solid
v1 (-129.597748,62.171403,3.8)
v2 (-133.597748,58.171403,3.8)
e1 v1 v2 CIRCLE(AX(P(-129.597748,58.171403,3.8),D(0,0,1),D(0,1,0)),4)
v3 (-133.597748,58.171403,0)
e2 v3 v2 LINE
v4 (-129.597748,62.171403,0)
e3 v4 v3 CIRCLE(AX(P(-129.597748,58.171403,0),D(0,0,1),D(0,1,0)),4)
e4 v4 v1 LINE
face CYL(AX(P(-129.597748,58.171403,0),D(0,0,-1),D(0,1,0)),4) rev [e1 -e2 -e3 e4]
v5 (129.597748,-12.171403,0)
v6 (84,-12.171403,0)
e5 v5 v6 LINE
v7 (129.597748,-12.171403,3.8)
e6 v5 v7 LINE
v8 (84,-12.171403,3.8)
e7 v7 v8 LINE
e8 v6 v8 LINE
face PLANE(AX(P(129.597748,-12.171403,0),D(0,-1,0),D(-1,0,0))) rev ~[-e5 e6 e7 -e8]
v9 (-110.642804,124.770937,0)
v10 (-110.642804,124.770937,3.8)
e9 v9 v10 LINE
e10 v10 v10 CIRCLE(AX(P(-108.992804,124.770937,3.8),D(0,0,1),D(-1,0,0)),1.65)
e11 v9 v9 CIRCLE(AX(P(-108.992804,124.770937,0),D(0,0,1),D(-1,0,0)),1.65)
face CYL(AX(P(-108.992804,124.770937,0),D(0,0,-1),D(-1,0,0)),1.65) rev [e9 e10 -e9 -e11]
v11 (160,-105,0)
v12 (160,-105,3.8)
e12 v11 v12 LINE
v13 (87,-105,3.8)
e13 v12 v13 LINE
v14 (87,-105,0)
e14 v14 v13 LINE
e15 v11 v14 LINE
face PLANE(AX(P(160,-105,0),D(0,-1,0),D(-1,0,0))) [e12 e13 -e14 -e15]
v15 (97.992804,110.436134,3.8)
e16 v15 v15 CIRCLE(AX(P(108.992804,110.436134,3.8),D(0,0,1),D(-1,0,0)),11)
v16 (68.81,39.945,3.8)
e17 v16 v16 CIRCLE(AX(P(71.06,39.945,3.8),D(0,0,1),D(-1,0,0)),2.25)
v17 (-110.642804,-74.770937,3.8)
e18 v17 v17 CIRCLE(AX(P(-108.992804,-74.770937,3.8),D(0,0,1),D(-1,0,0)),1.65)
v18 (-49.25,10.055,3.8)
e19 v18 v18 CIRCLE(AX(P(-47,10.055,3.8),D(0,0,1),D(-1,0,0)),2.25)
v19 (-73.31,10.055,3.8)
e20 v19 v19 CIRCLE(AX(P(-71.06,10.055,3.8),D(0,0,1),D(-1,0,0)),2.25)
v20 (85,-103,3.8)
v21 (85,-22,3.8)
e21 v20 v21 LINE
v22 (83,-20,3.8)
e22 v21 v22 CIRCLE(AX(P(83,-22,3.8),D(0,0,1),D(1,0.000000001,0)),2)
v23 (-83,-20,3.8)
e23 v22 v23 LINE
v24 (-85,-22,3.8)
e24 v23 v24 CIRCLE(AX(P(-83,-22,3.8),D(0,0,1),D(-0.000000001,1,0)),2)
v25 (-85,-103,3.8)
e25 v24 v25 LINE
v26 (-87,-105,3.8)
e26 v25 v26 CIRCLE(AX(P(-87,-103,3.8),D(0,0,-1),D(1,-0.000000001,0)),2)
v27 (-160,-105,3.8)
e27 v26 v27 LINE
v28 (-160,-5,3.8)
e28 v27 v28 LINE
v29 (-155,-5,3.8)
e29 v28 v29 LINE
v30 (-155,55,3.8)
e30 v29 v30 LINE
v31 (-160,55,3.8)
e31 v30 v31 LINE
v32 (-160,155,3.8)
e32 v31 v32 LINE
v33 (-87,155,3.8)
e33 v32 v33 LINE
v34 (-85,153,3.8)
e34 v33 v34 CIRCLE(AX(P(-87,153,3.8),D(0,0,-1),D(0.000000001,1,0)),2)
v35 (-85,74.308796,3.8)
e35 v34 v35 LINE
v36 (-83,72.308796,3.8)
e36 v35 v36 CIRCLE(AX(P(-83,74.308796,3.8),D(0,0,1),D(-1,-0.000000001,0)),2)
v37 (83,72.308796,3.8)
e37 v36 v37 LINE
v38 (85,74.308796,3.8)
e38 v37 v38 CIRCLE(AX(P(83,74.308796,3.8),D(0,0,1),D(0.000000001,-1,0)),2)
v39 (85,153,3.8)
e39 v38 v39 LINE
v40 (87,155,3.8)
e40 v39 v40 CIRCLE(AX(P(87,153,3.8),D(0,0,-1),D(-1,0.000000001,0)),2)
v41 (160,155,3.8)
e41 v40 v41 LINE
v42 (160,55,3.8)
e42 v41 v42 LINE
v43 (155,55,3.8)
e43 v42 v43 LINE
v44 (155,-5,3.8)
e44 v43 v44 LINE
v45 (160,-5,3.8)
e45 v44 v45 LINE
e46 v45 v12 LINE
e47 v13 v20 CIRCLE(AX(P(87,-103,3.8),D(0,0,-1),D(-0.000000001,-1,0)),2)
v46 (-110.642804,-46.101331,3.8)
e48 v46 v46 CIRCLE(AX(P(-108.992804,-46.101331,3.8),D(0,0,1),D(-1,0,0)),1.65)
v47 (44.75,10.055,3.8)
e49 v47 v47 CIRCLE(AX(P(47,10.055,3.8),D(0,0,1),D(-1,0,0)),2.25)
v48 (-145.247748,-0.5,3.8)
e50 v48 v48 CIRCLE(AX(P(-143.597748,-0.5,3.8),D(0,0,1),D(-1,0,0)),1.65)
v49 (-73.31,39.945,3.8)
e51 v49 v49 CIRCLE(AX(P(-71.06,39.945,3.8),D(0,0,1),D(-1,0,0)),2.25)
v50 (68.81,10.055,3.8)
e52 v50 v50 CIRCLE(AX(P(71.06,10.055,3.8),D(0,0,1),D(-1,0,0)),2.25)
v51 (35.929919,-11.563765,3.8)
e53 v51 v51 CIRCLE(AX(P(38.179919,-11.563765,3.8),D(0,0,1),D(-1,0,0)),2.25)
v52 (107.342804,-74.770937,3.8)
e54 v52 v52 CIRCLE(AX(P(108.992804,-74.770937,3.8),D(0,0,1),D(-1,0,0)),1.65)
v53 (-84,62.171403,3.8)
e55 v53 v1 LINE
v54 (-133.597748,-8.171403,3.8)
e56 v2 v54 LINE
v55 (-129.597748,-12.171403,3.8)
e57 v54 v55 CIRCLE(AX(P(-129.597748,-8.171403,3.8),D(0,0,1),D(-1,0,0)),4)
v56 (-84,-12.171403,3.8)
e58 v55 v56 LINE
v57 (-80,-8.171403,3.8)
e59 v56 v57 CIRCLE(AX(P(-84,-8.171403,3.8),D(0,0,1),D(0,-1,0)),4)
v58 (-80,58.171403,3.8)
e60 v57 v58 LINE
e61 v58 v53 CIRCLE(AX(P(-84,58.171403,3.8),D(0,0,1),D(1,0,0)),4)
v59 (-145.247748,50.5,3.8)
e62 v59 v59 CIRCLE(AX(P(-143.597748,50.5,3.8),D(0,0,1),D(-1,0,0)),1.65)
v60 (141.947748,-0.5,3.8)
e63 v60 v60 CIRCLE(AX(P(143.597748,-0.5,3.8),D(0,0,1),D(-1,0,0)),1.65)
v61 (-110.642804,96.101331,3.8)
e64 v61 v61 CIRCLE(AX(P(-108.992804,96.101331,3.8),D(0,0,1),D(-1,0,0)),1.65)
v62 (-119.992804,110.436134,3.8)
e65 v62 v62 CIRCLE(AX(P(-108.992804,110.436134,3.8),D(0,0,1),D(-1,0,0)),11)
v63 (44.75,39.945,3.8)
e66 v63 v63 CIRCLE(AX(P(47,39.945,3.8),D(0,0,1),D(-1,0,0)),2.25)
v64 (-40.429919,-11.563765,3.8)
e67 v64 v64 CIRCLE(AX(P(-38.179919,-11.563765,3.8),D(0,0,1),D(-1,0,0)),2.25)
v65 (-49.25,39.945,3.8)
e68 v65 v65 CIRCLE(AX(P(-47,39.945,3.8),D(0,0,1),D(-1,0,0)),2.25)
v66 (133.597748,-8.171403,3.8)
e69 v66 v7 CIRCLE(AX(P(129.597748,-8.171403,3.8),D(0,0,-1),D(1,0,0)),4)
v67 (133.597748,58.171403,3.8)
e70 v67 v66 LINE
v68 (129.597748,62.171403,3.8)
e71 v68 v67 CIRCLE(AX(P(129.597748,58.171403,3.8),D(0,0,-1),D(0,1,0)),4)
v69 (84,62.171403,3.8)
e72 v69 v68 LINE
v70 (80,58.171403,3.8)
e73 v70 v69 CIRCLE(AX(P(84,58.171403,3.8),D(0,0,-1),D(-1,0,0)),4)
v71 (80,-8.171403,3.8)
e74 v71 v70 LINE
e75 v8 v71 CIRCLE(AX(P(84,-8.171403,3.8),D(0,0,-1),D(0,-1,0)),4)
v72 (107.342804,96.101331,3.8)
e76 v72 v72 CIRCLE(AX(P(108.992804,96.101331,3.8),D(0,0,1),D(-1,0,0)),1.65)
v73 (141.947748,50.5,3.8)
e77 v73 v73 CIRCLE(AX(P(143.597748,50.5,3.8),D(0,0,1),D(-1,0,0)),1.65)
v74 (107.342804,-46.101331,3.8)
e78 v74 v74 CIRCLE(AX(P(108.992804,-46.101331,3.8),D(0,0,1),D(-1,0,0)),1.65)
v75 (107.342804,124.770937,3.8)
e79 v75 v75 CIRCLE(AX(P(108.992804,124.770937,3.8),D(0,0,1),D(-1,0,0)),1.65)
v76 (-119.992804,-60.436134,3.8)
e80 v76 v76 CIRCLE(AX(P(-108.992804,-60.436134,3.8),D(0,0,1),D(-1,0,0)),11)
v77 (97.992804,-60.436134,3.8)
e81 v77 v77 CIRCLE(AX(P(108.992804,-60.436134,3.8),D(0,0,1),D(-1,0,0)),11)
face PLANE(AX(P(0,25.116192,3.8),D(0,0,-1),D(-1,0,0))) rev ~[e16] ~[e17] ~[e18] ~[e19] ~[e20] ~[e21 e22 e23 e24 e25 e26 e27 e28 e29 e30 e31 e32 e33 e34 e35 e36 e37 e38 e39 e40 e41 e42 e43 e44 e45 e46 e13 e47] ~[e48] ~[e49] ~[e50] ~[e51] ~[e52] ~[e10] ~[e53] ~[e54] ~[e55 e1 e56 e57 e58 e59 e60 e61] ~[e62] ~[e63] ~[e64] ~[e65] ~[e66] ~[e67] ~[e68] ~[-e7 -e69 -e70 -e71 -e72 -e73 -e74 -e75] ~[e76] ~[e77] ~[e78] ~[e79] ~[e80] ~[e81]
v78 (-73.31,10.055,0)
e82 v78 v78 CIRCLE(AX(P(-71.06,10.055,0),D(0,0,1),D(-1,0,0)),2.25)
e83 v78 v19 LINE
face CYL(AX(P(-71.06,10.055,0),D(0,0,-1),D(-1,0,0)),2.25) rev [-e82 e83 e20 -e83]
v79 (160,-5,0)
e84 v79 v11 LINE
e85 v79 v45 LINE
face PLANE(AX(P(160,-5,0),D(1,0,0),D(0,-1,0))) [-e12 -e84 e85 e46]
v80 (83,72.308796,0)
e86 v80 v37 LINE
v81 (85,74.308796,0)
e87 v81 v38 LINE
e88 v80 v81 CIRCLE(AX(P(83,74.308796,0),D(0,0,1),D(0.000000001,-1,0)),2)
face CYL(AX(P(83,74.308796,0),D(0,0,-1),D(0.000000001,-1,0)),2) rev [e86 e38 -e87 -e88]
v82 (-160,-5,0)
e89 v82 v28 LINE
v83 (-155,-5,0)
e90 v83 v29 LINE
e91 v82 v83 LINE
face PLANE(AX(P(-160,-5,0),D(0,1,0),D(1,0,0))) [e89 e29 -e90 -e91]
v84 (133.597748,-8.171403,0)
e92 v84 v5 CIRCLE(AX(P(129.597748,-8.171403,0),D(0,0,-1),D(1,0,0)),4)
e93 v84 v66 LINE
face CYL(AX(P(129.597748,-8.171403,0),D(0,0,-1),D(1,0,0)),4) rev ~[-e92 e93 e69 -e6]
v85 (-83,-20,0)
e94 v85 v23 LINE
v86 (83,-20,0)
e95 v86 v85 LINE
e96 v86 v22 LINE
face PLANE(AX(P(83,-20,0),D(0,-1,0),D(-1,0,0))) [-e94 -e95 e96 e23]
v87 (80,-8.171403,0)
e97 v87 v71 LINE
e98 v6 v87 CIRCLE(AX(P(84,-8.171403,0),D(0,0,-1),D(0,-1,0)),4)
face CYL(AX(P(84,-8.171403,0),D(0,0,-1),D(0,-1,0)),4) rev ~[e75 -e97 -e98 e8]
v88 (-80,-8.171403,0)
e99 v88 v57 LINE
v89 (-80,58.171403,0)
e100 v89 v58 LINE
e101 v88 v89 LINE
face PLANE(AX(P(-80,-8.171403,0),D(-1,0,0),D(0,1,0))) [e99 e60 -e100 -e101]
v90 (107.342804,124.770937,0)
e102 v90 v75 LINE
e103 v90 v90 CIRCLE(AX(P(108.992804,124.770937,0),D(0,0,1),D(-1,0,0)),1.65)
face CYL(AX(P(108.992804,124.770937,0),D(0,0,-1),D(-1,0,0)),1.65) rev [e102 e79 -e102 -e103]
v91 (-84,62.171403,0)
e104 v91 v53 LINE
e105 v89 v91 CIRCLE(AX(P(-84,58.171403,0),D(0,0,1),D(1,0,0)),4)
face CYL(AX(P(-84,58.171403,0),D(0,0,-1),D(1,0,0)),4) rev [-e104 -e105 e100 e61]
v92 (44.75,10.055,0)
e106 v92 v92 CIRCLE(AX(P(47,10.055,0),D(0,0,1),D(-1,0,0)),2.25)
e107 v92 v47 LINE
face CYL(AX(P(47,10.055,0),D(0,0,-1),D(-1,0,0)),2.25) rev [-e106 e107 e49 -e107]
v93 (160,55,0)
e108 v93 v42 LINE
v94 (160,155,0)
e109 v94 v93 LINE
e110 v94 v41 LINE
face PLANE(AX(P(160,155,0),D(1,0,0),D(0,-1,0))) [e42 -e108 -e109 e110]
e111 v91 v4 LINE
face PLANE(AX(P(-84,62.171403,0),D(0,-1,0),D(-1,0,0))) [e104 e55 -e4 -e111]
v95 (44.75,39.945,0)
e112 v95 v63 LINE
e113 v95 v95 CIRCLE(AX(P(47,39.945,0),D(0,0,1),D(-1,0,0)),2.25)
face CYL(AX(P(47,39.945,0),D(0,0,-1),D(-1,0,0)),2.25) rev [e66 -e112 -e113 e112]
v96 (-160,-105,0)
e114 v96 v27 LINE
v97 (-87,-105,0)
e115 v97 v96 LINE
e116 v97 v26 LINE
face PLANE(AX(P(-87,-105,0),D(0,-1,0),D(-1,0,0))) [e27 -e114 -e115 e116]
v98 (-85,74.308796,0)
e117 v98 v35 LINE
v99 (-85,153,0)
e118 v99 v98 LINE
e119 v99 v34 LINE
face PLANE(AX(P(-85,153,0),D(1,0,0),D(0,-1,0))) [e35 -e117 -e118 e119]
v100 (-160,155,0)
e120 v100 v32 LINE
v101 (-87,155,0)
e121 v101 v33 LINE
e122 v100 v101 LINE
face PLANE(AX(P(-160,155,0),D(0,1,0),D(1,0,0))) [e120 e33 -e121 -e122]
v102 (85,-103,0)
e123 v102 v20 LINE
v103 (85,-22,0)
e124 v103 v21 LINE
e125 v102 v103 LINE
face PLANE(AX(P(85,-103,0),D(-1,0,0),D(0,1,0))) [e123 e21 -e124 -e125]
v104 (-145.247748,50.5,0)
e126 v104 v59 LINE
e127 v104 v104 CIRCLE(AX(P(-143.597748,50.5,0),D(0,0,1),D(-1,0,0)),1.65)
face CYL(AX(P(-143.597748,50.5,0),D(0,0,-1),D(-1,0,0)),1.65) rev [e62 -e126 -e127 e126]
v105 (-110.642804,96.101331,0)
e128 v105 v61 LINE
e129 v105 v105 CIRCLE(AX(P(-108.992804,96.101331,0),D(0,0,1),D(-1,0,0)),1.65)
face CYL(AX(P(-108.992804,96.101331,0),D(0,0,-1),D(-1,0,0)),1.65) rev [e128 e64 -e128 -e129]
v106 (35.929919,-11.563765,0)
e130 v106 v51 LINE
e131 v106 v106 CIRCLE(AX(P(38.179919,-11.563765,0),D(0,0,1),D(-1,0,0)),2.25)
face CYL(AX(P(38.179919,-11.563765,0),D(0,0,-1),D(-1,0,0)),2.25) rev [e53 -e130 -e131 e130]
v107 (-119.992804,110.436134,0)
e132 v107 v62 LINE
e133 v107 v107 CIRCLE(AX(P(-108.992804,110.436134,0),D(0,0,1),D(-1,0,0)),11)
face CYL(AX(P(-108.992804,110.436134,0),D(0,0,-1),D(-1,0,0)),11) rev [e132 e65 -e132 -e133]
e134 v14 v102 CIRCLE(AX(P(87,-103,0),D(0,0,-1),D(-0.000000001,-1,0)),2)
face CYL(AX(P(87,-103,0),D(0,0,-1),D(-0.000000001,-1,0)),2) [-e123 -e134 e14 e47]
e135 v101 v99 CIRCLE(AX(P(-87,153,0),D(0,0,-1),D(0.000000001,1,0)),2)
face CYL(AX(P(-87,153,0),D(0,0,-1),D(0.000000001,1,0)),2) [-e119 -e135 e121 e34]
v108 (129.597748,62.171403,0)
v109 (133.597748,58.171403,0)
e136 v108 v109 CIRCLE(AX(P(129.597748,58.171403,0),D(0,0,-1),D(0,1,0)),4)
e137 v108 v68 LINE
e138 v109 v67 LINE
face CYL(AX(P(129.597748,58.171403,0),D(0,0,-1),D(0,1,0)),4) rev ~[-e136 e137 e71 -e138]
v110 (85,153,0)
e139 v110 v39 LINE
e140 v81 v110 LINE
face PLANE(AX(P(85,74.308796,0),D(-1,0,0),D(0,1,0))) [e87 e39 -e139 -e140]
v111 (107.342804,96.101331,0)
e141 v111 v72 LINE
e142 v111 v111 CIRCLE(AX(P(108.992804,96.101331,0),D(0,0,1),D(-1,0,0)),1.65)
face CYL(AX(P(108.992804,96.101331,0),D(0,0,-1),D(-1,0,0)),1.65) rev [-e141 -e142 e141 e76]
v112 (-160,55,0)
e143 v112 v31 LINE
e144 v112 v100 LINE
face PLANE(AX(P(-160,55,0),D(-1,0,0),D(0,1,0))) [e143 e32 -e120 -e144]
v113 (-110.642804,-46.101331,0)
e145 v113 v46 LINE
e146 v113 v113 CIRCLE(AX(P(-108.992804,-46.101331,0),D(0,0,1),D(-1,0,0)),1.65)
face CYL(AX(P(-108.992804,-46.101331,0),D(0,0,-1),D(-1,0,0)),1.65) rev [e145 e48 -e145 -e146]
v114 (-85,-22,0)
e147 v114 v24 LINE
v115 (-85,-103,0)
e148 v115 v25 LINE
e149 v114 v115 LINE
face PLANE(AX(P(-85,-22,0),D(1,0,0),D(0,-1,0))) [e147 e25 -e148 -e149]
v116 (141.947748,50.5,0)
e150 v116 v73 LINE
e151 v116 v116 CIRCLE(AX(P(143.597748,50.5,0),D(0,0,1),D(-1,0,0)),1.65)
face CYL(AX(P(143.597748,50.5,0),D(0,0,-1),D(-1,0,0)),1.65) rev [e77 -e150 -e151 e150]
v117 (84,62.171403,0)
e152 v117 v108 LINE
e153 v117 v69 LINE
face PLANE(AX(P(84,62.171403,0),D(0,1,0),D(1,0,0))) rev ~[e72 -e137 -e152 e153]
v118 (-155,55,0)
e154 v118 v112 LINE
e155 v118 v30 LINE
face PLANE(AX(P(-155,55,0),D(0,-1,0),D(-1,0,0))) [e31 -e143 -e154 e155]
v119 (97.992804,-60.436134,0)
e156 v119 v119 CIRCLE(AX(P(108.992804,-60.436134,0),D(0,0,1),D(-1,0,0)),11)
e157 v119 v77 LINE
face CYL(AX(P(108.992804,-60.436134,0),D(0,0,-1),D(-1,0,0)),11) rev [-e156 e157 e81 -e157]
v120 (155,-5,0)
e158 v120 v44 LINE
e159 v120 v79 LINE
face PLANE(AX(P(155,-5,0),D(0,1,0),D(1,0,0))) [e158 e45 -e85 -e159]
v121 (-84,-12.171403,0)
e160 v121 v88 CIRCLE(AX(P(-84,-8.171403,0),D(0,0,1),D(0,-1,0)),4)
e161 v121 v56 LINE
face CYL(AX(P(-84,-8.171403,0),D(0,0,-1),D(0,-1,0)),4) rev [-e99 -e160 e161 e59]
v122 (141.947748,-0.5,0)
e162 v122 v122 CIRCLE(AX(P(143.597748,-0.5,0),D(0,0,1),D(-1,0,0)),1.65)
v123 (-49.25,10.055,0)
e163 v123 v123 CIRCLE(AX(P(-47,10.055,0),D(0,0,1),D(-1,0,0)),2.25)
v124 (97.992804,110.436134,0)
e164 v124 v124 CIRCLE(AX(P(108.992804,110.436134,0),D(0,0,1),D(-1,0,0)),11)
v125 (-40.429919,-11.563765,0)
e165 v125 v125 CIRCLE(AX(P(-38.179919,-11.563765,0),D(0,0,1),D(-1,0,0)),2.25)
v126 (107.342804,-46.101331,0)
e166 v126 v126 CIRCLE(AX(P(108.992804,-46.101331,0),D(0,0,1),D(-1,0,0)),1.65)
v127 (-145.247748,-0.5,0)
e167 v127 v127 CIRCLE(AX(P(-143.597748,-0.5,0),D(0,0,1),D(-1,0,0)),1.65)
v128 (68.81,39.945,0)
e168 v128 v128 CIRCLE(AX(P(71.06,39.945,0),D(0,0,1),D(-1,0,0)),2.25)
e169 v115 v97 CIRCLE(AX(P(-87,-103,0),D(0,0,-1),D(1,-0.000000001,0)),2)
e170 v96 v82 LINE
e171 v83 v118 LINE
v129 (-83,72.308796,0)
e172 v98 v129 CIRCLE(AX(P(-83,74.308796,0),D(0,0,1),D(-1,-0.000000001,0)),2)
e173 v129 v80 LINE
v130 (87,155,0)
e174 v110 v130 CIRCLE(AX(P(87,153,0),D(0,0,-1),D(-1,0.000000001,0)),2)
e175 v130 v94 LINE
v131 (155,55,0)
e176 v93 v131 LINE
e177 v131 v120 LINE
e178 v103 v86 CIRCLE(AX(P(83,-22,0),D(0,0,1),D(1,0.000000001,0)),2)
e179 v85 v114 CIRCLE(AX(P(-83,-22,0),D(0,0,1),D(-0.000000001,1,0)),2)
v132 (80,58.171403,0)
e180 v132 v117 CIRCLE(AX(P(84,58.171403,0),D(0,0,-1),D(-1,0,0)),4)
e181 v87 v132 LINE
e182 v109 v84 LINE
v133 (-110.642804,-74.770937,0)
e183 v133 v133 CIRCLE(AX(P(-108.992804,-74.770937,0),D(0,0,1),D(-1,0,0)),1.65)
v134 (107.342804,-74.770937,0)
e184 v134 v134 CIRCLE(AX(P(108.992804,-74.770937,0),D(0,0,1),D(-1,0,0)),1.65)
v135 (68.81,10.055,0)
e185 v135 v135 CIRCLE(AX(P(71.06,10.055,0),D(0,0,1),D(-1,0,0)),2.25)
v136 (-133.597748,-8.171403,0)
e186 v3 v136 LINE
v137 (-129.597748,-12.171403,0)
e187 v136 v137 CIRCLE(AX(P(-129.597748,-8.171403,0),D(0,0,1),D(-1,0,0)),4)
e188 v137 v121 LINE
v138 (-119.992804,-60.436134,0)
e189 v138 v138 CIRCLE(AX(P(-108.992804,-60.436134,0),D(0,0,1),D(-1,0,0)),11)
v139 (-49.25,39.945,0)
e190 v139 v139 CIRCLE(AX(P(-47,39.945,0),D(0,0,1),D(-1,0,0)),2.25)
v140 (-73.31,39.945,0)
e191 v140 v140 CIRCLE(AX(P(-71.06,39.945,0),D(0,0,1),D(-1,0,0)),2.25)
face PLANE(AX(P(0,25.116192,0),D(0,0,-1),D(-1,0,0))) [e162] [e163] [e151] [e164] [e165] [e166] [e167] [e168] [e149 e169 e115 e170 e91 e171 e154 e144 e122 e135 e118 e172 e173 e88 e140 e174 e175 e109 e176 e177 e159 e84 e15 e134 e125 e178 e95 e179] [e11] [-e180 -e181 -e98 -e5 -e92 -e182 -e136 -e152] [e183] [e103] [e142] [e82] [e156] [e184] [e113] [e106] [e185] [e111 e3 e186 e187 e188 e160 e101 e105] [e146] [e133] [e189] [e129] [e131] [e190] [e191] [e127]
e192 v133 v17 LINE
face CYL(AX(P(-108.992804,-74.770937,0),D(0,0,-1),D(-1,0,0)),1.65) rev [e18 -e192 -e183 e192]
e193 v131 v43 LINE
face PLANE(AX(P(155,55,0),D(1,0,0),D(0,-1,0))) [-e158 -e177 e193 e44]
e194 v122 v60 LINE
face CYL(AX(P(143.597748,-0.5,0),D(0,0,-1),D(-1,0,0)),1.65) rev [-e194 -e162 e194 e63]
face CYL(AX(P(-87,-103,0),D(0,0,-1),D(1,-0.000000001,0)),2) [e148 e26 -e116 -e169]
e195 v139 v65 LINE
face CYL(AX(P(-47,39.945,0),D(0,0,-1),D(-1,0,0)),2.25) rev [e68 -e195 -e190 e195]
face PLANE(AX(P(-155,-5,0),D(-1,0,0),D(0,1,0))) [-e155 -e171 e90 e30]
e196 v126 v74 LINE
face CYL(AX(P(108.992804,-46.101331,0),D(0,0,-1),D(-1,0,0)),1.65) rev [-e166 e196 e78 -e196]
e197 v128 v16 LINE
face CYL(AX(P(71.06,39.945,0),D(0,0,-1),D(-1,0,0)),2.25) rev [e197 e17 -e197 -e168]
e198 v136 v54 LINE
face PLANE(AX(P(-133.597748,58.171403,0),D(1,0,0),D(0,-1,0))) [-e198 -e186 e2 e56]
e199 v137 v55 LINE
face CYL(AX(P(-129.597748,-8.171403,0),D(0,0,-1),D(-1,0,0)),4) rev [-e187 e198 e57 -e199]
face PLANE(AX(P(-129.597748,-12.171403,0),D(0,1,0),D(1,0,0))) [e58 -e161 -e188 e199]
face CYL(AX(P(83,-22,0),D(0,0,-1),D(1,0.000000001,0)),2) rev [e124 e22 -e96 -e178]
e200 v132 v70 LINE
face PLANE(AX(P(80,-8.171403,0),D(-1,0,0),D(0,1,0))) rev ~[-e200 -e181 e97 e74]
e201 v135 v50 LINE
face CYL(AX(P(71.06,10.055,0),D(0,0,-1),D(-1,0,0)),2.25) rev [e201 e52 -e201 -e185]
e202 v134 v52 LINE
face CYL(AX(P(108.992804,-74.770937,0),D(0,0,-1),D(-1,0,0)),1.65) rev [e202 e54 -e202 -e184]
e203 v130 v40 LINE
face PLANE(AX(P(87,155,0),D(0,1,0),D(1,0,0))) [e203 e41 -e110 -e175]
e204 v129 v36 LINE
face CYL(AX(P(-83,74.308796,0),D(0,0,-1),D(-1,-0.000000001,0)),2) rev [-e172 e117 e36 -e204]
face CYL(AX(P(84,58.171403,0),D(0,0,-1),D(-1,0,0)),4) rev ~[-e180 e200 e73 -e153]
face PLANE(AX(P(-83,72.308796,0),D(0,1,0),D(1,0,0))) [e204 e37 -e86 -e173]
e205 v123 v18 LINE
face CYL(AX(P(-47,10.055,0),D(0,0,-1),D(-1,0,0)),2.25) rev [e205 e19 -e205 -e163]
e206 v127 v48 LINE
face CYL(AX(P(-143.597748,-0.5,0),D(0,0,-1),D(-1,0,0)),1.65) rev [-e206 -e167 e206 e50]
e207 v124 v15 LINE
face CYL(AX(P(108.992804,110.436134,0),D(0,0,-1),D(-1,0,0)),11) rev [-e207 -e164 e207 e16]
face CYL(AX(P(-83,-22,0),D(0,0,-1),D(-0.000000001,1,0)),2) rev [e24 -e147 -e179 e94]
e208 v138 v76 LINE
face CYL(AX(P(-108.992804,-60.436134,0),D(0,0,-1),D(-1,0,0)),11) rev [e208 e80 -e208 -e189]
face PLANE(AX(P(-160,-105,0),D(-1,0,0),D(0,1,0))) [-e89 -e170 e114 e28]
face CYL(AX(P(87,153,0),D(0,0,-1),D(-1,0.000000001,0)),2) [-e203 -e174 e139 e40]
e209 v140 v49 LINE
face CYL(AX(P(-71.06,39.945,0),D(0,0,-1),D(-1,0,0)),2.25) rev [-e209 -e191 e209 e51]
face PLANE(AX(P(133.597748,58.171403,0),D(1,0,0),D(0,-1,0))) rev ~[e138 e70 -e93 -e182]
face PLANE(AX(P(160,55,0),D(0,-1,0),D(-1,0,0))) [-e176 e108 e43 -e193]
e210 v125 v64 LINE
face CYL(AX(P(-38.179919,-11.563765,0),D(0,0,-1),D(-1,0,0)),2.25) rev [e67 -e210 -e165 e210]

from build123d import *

# Parameters (mm, degrees)
SKETCH2_R           = 1.65
SKETCH2_R_2         = 11
SKETCH2_R_3         = 2.25
BOSS_EXTRUDE1_DEPTH = 3.8


with BuildPart() as part:
    # Sketch2 → Boss-Extrude1 (new body)
    with BuildSketch(Plane.XY):
        with BuildLine():
            Line((-160, 155), (-87, 155))
            ThreePointArc((-87, 155), (-85.585786438, 154.414213562), (-85, 153))
            Line((-85, 153), (-85, 74.308795954))
            ThreePointArc((-85, 74.308795954), (-84.414213562, 72.894582392), (-83, 72.308795954))
            Line((-83, 72.308795954), (83, 72.308795954))
            ThreePointArc((83, 72.308795954), (84.414213562, 72.894582392), (85, 74.308795954))
            Line((85, 74.308795954), (85, 153))
            ThreePointArc((85, 153), (85.585786438, 154.414213562), (87, 155))
            Line((87, 155), (160, 155))
            Line((160, 155), (160, 55))
            Line((160, 55), (155, 55))
            Line((155, 55), (155, -5))
            Line((155, -5), (160, -5))
            Line((160, -5), (160, -105))
            Line((160, -105), (87, -105))
            ThreePointArc((87, -105), (85.585786438, -104.414213562), (85, -103))
            Line((85, -103), (85, -22))
            ThreePointArc((85, -22), (84.414213562, -20.585786438), (83, -20))
            Line((83, -20), (-83, -20))
            ThreePointArc((-83, -20), (-84.414213562, -20.585786438), (-85, -22))
            Line((-85, -22), (-85, -103))
            ThreePointArc((-85, -103), (-85.585786438, -104.414213562), (-87, -105))
            Line((-87, -105), (-160, -105))
            Line((-160, -105), (-160, -5))
            Line((-160, -5), (-155, -5))
            Line((-155, -5), (-155, 55))
            Line((-155, 55), (-160, 55))
            Line((-160, 55), (-160, 155))
        make_face()
        with Locations(Location((-108.992804496, 124.770936608, 0), (0, 0, 180))):
            Circle(SKETCH2_R, mode=Mode.SUBTRACT)
        with Locations(Location((-108.992804496, 96.101330956, 0), (0, 0, 180))):
            Circle(SKETCH2_R, mode=Mode.SUBTRACT)
        with Locations(Location((108.992804496, 124.770936608, 0), (0, 0, 180))):
            Circle(SKETCH2_R, mode=Mode.SUBTRACT)
        with Locations(Location((108.992804496, 96.101330956, 0), (0, 0, 180))):
            Circle(SKETCH2_R, mode=Mode.SUBTRACT)
        with Locations(Location((108.992804496, 110.436133782, 0), (0, 0, 180))):
            Circle(SKETCH2_R_2, mode=Mode.SUBTRACT)
        with Locations(Location((-108.992804496, 110.436133782, 0), (0, 0, 180))):
            Circle(SKETCH2_R_2, mode=Mode.SUBTRACT)
        with Locations(Location((143.59774802, -0.5, 0), (0, 0, 180))):
            Circle(SKETCH2_R, mode=Mode.SUBTRACT)
        with Locations(Location((143.59774802, 50.5, 0), (0, 0, 180))):
            Circle(SKETCH2_R, mode=Mode.SUBTRACT)
        with Locations(Location((-143.59774802, -0.5, 0), (0, 0, 180))):
            Circle(SKETCH2_R, mode=Mode.SUBTRACT)
        with Locations(Location((-143.59774802, 50.5, 0), (0, 0, 180))):
            Circle(SKETCH2_R, mode=Mode.SUBTRACT)
        with Locations(Location((-47, 10.055, 0), (0, 0, 180))):
            Circle(SKETCH2_R_3, mode=Mode.SUBTRACT)
        with Locations(Location((-47, 39.945, 0), (0, 0, 180))):
            Circle(SKETCH2_R_3, mode=Mode.SUBTRACT)
        with Locations(Location((-71.06, 39.945, 0), (0, 0, 180))):
            Circle(SKETCH2_R_3, mode=Mode.SUBTRACT)
        with Locations(Location((-71.06, 10.055, 0), (0, 0, 180))):
            Circle(SKETCH2_R_3, mode=Mode.SUBTRACT)
        with Locations(Location((71.06, 10.055, 0), (0, 0, 180))):
            Circle(SKETCH2_R_3, mode=Mode.SUBTRACT)
        with Locations(Location((47, 10.055, 0), (0, 0, 180))):
            Circle(SKETCH2_R_3, mode=Mode.SUBTRACT)
        with Locations(Location((47, 39.945, 0), (0, 0, 180))):
            Circle(SKETCH2_R_3, mode=Mode.SUBTRACT)
        with Locations(Location((71.06, 39.945, 0), (0, 0, 180))):
            Circle(SKETCH2_R_3, mode=Mode.SUBTRACT)
        with Locations(Location((108.992804496, -74.770936608, 0), (0, 0, 180))):
            Circle(SKETCH2_R, mode=Mode.SUBTRACT)
        with Locations(Location((108.992804496, -46.101330956, 0), (0, 0, 180))):
            Circle(SKETCH2_R, mode=Mode.SUBTRACT)
        with Locations(Location((108.992804496, -60.436133782, 0), (0, 0, 180))):
            Circle(SKETCH2_R_2, mode=Mode.SUBTRACT)
        with Locations(Location((-108.992804496, -60.436133782, 0), (0, 0, 180))):
            Circle(SKETCH2_R_2, mode=Mode.SUBTRACT)
        with Locations(Location((-108.992804496, -46.101330956, 0), (0, 0, 180))):
            Circle(SKETCH2_R, mode=Mode.SUBTRACT)
        with Locations(Location((-108.992804496, -74.770936608, 0), (0, 0, 180))):
            Circle(SKETCH2_R, mode=Mode.SUBTRACT)
        with Locations(Location((38.179918963, -11.563765186, 0), (0, 0, 180))):
            Circle(SKETCH2_R_3, mode=Mode.SUBTRACT)
        with Locations(Location((-38.179918963, -11.563765186, 0), (0, 0, 180))):
            Circle(SKETCH2_R_3, mode=Mode.SUBTRACT)
        with BuildLine():
            Line((-84, 62.171403079), (-129.59774802, 62.171403079))
            ThreePointArc((-129.59774802, 62.171403079), (-132.426175145, 60.999830204), (-133.59774802, 58.171403079))
            Line((-133.59774802, 58.171403079), (-133.59774802, -8.171403079))
            ThreePointArc((-133.59774802, -8.171403079), (-132.426175145, -10.999830204), (-129.59774802, -12.171403079))
            Line((-129.59774802, -12.171403079), (-84, -12.171403079))
            ThreePointArc((-84, -12.171403079), (-81.171572875, -10.999830204), (-80, -8.171403079))
            Line((-80, -8.171403079), (-80, 58.171403079))
            ThreePointArc((-80, 58.171403079), (-81.171572875, 60.999830204), (-84, 62.171403079))
        make_face(mode=Mode.SUBTRACT)
        with BuildLine():
            Line((84, 62.171403079), (129.59774802, 62.171403079))
            ThreePointArc((129.59774802, 62.171403079), (132.426175145, 60.999830204), (133.59774802, 58.171403079))
            Line((133.59774802, 58.171403079), (133.59774802, -8.171403079))
            ThreePointArc((133.59774802, -8.171403079), (132.426175145, -10.999830204), (129.59774802, -12.171403079))
            Line((129.59774802, -12.171403079), (84, -12.171403079))
            ThreePointArc((84, -12.171403079), (81.171572875, -10.999830204), (80, -8.171403079))
            Line((80, -8.171403079), (80, 58.171403079))
            ThreePointArc((80, 58.171403079), (81.171572875, 60.999830204), (84, 62.171403079))
        make_face(mode=Mode.SUBTRACT)
    extrude(amount=BOSS_EXTRUDE1_DEPTH)


solid = part.part
